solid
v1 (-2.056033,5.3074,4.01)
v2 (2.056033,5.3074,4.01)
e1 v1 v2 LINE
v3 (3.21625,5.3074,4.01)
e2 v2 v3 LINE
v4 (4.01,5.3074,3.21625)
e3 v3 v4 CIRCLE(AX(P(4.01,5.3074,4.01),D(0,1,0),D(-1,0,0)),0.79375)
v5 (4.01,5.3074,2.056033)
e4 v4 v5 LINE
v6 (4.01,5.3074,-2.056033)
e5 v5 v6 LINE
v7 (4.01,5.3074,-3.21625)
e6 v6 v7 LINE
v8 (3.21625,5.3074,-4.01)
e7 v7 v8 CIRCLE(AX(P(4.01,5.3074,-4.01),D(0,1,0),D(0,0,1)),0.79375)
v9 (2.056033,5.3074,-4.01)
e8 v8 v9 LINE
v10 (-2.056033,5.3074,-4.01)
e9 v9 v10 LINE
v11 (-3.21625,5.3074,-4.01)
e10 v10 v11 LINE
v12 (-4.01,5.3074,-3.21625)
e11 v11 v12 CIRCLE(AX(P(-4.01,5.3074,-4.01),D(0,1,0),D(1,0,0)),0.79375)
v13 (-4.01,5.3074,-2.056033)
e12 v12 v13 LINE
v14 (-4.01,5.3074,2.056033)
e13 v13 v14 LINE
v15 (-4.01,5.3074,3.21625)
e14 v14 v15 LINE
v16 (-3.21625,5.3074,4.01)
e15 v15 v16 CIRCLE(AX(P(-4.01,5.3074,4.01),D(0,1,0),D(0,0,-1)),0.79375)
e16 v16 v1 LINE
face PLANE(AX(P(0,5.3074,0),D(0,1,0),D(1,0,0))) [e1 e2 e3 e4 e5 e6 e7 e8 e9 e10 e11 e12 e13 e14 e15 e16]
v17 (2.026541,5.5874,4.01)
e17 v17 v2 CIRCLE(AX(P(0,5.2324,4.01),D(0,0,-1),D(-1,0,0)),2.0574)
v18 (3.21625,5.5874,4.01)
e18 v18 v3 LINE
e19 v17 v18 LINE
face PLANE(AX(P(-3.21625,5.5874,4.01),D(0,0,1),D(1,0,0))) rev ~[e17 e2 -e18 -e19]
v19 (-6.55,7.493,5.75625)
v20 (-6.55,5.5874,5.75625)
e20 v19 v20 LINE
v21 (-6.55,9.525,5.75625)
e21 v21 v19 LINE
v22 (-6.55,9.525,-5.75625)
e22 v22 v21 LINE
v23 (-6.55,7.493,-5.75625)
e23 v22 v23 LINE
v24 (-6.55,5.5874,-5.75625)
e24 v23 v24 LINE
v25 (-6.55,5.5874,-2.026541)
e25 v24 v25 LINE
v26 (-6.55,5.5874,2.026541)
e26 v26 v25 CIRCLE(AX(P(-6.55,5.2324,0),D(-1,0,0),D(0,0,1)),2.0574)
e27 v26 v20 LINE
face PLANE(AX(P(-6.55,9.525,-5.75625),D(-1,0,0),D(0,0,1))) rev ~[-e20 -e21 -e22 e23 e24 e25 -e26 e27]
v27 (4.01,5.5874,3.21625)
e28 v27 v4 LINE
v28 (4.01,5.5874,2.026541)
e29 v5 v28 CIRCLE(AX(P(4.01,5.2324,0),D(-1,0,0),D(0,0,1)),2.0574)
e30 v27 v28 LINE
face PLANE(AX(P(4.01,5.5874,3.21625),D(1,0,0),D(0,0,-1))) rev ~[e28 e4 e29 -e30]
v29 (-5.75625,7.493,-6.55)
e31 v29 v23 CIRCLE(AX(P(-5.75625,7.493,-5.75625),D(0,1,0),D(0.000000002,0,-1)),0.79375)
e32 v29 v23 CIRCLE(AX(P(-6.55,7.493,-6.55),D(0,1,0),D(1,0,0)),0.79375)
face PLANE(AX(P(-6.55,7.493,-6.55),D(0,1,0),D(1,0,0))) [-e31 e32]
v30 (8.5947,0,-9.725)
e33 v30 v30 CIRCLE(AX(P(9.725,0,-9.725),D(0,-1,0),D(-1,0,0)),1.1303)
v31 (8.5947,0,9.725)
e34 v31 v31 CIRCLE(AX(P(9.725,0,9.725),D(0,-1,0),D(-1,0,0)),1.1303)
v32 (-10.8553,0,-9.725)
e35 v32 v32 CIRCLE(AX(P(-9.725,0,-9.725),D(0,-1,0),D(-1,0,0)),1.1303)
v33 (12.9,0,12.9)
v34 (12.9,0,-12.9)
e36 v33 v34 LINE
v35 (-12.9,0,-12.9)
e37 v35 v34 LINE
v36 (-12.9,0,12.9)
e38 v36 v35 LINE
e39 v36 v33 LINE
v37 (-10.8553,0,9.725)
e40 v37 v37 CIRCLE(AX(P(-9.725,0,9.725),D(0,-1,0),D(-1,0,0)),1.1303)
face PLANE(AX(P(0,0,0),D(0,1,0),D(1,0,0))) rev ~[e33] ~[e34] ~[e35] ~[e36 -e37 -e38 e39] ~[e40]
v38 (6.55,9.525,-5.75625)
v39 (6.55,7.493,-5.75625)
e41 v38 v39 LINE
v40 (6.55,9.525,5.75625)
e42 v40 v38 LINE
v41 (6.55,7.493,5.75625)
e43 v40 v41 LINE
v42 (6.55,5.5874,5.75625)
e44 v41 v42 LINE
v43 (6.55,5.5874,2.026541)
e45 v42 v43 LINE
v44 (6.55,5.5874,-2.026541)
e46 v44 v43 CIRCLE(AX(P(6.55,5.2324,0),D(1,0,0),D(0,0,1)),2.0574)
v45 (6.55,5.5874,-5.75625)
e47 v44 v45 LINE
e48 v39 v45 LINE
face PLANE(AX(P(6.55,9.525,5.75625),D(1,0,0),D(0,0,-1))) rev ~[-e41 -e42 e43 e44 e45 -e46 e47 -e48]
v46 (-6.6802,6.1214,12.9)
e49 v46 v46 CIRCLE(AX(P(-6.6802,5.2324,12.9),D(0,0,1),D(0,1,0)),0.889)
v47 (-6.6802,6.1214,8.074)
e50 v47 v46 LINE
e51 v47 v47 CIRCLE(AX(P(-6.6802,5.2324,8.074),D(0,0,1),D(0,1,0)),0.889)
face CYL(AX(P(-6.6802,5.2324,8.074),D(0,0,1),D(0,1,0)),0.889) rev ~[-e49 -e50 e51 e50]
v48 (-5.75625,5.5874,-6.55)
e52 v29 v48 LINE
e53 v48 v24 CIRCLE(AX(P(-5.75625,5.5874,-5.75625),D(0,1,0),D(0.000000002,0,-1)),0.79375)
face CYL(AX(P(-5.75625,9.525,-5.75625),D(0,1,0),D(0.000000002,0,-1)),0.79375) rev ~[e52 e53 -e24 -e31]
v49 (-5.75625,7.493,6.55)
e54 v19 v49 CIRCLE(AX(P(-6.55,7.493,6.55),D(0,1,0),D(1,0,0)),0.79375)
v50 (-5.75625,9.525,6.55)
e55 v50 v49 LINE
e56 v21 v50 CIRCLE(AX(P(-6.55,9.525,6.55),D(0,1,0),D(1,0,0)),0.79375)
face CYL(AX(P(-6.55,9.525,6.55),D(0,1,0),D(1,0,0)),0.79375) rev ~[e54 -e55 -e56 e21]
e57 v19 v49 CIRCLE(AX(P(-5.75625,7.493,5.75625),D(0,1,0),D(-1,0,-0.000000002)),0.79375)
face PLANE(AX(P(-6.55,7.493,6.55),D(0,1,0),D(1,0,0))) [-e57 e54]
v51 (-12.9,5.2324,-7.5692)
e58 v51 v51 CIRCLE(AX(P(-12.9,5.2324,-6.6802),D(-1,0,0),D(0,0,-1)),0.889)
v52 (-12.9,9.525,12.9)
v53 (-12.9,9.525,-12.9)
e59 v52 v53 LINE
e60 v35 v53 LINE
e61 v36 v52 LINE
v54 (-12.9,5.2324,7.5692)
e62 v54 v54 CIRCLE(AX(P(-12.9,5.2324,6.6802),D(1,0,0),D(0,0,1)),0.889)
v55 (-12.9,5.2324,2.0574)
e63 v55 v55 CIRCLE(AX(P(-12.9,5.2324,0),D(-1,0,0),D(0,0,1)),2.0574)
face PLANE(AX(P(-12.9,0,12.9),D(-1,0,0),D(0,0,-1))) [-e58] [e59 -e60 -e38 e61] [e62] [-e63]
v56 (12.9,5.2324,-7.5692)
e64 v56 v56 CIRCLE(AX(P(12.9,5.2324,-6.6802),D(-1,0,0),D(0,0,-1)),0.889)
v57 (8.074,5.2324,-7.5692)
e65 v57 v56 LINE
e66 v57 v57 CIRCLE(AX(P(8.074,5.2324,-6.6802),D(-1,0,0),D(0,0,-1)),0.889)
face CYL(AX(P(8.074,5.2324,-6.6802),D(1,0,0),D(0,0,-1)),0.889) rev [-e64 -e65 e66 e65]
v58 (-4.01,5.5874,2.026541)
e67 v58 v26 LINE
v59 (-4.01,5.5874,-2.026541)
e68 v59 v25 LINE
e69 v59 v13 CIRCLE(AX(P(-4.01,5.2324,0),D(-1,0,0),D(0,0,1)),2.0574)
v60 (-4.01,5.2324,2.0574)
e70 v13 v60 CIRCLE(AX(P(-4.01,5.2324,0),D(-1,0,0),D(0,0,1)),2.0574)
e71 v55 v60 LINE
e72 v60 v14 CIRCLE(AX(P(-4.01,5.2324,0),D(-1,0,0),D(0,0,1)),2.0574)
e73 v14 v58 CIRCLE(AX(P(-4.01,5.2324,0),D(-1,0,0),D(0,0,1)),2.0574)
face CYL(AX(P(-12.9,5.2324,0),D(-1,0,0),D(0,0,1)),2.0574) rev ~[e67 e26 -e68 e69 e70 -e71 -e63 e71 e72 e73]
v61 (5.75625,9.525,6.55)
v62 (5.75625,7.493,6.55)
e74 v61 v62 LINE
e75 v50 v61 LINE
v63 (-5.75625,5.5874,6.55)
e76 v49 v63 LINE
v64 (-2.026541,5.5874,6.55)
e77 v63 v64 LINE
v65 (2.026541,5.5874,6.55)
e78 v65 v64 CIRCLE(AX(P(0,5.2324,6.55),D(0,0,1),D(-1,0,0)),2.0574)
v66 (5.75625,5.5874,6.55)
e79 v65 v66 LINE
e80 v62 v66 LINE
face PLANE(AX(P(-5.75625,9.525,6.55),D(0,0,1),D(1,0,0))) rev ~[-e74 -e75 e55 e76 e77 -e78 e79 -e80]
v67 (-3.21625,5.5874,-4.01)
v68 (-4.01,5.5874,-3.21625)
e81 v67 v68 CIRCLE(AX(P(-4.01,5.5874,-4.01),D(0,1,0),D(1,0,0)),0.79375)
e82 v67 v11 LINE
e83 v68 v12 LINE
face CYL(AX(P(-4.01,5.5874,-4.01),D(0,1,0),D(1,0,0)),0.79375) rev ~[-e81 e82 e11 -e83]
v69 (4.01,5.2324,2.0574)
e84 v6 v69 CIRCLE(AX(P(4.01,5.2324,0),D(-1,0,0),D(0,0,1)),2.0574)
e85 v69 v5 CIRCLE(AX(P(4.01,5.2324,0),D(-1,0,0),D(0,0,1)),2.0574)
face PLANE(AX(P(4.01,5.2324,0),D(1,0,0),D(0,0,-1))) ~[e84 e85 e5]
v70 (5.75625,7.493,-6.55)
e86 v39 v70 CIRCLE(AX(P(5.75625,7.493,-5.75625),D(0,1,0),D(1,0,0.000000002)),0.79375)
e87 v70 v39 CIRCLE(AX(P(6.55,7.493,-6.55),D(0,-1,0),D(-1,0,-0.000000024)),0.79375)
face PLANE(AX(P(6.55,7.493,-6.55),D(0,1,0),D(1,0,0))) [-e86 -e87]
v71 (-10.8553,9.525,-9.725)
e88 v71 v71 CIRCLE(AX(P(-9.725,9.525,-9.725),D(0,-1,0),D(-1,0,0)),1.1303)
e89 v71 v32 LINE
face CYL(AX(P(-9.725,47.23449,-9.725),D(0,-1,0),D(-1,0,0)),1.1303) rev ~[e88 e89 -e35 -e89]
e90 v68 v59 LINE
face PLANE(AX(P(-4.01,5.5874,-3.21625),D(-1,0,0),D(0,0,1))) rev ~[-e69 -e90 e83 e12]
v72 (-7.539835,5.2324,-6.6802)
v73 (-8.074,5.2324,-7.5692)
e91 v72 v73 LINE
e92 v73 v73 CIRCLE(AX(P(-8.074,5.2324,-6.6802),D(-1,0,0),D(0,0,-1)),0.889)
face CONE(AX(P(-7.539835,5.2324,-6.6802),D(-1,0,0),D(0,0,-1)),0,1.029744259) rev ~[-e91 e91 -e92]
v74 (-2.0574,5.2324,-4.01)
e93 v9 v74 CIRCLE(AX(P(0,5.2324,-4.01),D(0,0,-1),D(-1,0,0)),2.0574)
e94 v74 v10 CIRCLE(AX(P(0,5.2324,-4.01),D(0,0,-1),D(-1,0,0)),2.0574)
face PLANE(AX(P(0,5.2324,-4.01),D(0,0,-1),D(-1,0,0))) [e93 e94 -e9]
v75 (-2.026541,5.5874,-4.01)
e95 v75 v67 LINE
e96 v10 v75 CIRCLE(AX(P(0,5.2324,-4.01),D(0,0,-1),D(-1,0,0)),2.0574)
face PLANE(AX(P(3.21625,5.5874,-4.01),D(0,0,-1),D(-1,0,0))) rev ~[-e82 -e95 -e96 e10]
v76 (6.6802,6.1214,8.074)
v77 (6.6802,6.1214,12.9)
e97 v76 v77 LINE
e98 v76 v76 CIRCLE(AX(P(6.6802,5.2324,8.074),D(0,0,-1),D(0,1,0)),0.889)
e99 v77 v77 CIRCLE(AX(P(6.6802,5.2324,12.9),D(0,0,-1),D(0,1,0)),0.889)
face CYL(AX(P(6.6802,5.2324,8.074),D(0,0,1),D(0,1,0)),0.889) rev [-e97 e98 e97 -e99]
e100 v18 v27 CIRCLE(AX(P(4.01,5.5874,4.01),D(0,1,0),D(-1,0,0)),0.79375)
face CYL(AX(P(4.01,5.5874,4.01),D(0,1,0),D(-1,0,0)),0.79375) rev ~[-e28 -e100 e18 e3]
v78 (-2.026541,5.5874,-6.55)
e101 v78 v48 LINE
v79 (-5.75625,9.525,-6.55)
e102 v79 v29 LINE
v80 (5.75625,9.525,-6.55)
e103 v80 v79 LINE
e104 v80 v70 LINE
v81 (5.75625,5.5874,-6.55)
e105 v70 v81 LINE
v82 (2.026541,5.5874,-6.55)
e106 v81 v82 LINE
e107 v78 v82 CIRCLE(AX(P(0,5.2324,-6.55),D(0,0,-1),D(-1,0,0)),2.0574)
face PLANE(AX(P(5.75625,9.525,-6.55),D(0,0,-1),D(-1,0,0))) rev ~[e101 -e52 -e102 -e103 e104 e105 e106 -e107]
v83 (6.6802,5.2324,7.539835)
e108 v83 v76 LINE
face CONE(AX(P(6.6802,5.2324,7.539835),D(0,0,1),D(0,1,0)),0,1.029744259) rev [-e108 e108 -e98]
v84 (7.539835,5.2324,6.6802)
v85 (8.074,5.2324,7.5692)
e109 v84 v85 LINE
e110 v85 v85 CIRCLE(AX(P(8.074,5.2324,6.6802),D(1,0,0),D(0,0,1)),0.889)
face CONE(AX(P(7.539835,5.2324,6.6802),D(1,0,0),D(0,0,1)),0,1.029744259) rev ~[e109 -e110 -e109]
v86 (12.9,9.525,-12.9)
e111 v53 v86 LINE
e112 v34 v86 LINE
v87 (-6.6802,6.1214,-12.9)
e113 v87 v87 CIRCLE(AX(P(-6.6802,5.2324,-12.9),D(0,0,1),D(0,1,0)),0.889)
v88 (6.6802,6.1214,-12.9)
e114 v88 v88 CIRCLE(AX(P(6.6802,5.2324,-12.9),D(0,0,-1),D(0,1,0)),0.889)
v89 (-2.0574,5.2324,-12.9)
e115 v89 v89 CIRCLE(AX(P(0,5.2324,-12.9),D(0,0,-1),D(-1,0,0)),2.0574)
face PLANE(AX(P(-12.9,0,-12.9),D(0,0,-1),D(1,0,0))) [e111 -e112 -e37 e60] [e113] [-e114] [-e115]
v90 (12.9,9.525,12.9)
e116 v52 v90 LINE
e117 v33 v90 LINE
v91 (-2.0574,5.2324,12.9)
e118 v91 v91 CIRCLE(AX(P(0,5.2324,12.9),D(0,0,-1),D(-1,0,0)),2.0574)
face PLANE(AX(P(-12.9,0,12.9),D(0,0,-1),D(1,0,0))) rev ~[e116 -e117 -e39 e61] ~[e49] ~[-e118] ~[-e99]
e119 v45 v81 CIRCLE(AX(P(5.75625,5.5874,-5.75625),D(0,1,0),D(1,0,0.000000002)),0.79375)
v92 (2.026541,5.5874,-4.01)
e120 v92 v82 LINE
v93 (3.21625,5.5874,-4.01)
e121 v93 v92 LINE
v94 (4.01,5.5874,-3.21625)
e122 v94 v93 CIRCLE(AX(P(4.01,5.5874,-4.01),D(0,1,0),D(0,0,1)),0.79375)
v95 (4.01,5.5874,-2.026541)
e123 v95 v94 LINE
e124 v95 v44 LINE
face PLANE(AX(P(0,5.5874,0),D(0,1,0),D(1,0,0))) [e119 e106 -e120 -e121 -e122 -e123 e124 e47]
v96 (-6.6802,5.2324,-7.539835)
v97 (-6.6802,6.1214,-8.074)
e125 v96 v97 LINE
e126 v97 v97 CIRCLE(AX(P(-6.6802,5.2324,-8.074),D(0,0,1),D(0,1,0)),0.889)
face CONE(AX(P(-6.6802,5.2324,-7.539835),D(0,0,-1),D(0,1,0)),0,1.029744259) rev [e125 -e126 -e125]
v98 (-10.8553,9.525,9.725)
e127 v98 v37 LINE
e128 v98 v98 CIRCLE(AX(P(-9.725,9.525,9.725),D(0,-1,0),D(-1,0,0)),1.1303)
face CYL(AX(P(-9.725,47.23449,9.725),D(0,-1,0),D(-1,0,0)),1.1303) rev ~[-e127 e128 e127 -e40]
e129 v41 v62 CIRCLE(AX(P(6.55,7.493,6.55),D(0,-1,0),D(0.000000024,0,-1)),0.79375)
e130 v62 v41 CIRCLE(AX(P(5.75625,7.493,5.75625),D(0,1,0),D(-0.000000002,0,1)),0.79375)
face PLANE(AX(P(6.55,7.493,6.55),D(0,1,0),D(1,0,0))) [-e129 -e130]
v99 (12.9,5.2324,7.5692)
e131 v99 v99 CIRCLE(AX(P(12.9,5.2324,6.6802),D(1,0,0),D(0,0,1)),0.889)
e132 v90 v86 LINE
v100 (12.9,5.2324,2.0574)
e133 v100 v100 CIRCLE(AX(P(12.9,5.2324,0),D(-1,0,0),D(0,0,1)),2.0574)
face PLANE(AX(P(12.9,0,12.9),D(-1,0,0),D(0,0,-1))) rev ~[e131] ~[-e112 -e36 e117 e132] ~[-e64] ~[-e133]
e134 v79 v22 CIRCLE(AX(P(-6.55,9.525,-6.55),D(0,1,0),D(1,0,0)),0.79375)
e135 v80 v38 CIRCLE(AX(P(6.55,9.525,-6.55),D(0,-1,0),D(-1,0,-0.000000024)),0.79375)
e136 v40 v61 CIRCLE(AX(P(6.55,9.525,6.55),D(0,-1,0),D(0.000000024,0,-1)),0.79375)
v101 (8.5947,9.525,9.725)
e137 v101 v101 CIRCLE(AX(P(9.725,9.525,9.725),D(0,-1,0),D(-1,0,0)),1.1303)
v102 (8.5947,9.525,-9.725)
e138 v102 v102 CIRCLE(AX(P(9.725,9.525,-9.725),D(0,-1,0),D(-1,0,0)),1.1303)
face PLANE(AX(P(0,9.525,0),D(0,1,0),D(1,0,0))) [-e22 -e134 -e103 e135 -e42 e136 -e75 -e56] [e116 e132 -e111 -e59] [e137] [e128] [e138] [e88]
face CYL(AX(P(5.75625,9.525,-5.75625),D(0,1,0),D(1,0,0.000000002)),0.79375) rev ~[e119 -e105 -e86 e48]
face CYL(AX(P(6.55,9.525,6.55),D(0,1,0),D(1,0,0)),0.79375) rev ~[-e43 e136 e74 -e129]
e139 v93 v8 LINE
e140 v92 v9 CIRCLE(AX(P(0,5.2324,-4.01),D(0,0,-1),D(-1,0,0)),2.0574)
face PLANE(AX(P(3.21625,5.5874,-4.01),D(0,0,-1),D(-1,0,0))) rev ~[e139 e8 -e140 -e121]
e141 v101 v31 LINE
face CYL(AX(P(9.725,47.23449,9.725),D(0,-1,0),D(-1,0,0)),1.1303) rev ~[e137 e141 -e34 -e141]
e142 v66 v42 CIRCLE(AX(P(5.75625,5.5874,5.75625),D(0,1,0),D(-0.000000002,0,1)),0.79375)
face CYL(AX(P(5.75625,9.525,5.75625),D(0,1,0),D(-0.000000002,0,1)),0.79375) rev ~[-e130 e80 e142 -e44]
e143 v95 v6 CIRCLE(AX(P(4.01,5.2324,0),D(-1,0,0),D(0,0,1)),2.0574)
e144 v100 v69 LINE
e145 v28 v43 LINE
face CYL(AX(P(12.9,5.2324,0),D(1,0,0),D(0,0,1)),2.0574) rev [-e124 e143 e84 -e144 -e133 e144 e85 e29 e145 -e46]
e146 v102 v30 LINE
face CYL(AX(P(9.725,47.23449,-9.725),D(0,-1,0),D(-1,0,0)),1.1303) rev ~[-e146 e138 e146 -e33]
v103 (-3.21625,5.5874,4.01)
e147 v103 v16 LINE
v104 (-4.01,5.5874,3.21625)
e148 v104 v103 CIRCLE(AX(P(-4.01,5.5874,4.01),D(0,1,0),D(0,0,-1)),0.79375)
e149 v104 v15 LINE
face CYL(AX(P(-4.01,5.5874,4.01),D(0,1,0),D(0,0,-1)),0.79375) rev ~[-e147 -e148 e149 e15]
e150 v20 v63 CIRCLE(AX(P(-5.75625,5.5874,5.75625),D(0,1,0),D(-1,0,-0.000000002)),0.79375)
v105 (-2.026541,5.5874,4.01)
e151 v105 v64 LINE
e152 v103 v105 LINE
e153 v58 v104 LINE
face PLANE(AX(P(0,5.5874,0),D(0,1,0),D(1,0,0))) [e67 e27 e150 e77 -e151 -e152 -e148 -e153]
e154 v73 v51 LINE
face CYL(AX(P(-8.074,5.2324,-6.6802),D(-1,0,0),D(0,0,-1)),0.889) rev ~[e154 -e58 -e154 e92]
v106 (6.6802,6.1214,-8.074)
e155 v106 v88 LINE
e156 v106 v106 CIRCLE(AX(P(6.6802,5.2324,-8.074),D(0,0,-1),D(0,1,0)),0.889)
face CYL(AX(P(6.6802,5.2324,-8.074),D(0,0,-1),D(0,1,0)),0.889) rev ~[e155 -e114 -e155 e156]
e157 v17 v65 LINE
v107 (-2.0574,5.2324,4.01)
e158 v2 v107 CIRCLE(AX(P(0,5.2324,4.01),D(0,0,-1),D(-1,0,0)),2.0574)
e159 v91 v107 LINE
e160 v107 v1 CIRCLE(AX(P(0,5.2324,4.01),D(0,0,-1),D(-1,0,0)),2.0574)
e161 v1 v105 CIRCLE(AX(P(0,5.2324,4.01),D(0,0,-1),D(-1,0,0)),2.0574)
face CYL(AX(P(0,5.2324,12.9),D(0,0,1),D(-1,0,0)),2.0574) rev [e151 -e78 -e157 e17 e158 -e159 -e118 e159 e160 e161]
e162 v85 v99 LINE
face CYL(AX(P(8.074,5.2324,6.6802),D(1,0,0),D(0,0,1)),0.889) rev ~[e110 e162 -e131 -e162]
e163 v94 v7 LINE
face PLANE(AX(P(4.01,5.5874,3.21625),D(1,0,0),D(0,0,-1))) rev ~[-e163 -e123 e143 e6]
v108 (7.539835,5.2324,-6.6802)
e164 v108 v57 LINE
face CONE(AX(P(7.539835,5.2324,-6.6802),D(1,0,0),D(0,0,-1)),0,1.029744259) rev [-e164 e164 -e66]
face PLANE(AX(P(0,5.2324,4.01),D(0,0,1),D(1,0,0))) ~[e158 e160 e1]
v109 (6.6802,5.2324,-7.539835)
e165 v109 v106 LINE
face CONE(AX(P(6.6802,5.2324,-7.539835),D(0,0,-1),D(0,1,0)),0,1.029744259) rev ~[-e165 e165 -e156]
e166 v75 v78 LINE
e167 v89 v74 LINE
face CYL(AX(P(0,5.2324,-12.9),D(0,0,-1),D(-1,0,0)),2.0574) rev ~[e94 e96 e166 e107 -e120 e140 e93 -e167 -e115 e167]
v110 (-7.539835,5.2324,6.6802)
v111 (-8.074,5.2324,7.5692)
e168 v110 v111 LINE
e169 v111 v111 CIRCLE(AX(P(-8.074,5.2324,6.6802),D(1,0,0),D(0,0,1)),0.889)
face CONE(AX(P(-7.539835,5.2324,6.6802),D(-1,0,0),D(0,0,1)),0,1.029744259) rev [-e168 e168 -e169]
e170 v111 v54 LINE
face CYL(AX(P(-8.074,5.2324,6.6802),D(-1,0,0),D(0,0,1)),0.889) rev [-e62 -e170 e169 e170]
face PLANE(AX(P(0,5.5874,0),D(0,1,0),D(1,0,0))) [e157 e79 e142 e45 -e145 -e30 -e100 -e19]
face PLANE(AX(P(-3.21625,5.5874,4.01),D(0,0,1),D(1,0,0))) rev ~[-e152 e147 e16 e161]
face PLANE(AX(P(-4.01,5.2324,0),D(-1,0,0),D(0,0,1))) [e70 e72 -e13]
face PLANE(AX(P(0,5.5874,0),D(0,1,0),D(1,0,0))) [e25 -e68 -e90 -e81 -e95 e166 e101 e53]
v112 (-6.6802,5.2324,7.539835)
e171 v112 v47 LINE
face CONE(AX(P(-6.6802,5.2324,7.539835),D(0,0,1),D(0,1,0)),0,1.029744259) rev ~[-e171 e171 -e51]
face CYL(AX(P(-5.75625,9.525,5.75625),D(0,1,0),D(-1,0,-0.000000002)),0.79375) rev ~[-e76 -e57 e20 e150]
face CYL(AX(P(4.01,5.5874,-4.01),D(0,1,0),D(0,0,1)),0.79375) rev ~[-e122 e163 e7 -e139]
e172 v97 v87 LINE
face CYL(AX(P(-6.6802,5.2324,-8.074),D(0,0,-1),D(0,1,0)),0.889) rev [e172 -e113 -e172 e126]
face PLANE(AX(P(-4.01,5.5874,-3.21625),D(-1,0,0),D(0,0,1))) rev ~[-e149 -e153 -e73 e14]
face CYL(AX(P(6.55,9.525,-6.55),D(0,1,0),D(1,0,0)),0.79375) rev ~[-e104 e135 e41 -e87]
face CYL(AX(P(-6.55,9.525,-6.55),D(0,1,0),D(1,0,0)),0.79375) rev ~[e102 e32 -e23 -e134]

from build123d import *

# Parameters (mm, degrees)
SKETCH1_W             = 25.8
SKETCH1_H             = 25.8
BOSS_EXTRUDE1_DEPTH   = 9.525
SKETCH3_R             = 2.0574
CUT_EXTRUDE3_DEPTH    = 8.89
SKETCH7_R             = 2.0574
CUT_EXTRUDE5_DEPTH    = 8.89
CUT_EXTRUDE10_DEPTH   = 3.9376
CUT_EXTRUDE11_DEPTH   = 0.28
F_4_40_TAPPED_HOLE2_D = 2.2606
SKETCH25_R            = 0.79375
CUT_EXTRUDE12_DEPTH   = 2.032


with BuildPart() as part:
    # Sketch1 → Boss-Extrude1 (new body)
    with BuildSketch(Plane(origin=(0, 0, 0), x_dir=(1, 0, 0), z_dir=(0, 1, 0))):
        Rectangle(SKETCH1_W, SKETCH1_H)
    extrude(amount=BOSS_EXTRUDE1_DEPTH)

    # Sketch3 → Cut-Extrude3 (cut)
    with BuildSketch(Plane.ZY.offset(12.9)):
        with Locations((0, 5.2324)):
            Circle(SKETCH3_R)
    cut_extrude3 = extrude(amount=-CUT_EXTRUDE3_DEPTH, mode=Mode.SUBTRACT)

    # Mirror1: Cut-Extrude3 across plane
    add(cut_extrude3.mirror(Plane(origin=(0, 0, 0), x_dir=(0, 0, 1), z_dir=(1, 0, 0))), mode=Mode.SUBTRACT)

    # Sketch7 → Cut-Extrude5 (cut)
    with BuildSketch(Plane(origin=(0, 0, -12.9), x_dir=(-1, 0, 0), z_dir=(0, 0, -1))):
        with Locations((0, 5.2324)):
            Circle(SKETCH7_R)
    cut_extrude5 = extrude(amount=-CUT_EXTRUDE5_DEPTH, mode=Mode.SUBTRACT)

    # Mirror2: Cut-Extrude5 across plane
    add(cut_extrude5.mirror(Plane.XY), mode=Mode.SUBTRACT)

    # Sketch14 → Cut-Extrude10 (cut)
    with BuildSketch(Plane(origin=(0, 9.525, 0), x_dir=(1, 0, 0), z_dir=(0, 1, 0))):
        with BuildLine():
            Line((-5.75625, -6.55), (5.75625, -6.55))
            ThreePointArc((5.75625, -6.55), (6.317516008, -6.317516008), (6.55, -5.75625))
            Line((6.55, -5.75625), (6.55, 5.75625))
            ThreePointArc((6.55, 5.75625), (6.317516008, 6.317516008), (5.75625, 6.55))
            Line((5.75625, 6.55), (-5.75625, 6.55))
            ThreePointArc((-5.75625, 6.55), (-6.317516008, 6.317516008), (-6.55, 5.75625))
            Line((-6.55, 5.75625), (-6.55, -5.75625))
            ThreePointArc((-6.55, -5.75625), (-6.317516008, -6.317516008), (-5.75625, -6.55))
        make_face()
    extrude(amount=-CUT_EXTRUDE10_DEPTH, mode=Mode.SUBTRACT)

    # Sketch15 → Cut-Extrude11 (cut)
    with BuildSketch(Plane(origin=(0, 5.5874, 0), x_dir=(1, 0, 0), z_dir=(0, 1, 0))):
        with BuildLine():
            Line((-3.21625, -4.01), (3.21625, -4.01))
            ThreePointArc((3.21625, -4.01), (4.571266008, -4.571266008), (4.01, -3.21625))
            Line((4.01, -3.21625), (4.01, 3.21625))
            ThreePointArc((4.01, 3.21625), (4.571266008, 4.571266008), (3.21625, 4.01))
            Line((3.21625, 4.01), (-3.21625, 4.01))
            ThreePointArc((-3.21625, 4.01), (-4.571266008, 4.571266008), (-4.01, 3.21625))
            Line((-4.01, 3.21625), (-4.01, -3.21625))
            ThreePointArc((-4.01, -3.21625), (-4.571266008, -4.571266008), (-3.21625, -4.01))
        make_face()
    extrude(amount=-CUT_EXTRUDE11_DEPTH, mode=Mode.SUBTRACT)

    # #4-40 Tapped Hole2 (through all)
    with Locations(Plane(origin=(0, 9.525, 0), x_dir=(1, 0, 0), z_dir=(0, 1, 0))):
        with Locations((9.725, -9.725), (-9.725, -9.725), (-9.725, 9.725), (9.725, 9.725)):
            Hole(F_4_40_TAPPED_HOLE2_D / 2)

    # Sketch22 → #2-56 Tapped Hole1 (revolve, cut)
    with BuildSketch(Plane(origin=(-6.6802, 5.2324, -12.9), x_dir=(0, 1, 0), z_dir=(1, 0, 0))):
        Polygon((0, 0), (0, 5.36016509), (0.889, 4.826), (0.889, 0), align=None)
    f_2_56_tapped_hole1 = revolve(axis=Axis((-6.6802, 5.2324, -19.25), (0, 0, 1)), mode=Mode.SUBTRACT)

    # Mirror7: #2-56 Tapped Hole1 across plane
    add(f_2_56_tapped_hole1.mirror(Plane(origin=(0, 0, 0), x_dir=(0, 0, 1), z_dir=(1, 0, 0))), mode=Mode.SUBTRACT)

    # Mirror8: #2-56 Tapped Hole1 across plane
    add(f_2_56_tapped_hole1.mirror(Plane.XY), mode=Mode.SUBTRACT)

    # Mirror8 copy 1 sketch → Mirror8 copy 1 (revolve, cut)
    with BuildSketch(Plane(origin=(6.6802, 5.2324, 12.9), x_dir=(0, 1, 0), z_dir=(-1, 0, 0))):
        Polygon((0, 0), (0, 5.36016509), (0.889, 4.826), (0.889, 0), align=None)
    revolve(axis=Axis((6.6802, 5.2324, 19.25), (0, 0, -1)), mode=Mode.SUBTRACT)

    # Sketch24 → #2-56 Tapped Hole2 (revolve, cut)
    with BuildSketch(Plane(origin=(12.9, 5.2324, -6.6802), x_dir=(0, 0, -1), z_dir=(0, 1, 0))):
        Polygon((0, 0), (0, 5.36016509), (0.889, 4.826), (0.889, 0), align=None)
    f_2_56_tapped_hole2 = revolve(axis=Axis((19.25, 5.2324, -6.6802), (-1, 0, 0)), mode=Mode.SUBTRACT)

    # Mirror9: #2-56 Tapped Hole2 across plane
    add(f_2_56_tapped_hole2.mirror(Plane.XY), mode=Mode.SUBTRACT)

    # Mirror10: #2-56 Tapped Hole2 across plane
    add(f_2_56_tapped_hole2.mirror(Plane(origin=(0, 0, 0), x_dir=(0, 0, 1), z_dir=(1, 0, 0))), mode=Mode.SUBTRACT)

    # Mirror10 copy 1 sketch → Mirror10 copy 1 (revolve, cut)
    with BuildSketch(Plane(origin=(-12.9, 5.2324, 6.6802), x_dir=(0, 0, 1), z_dir=(0, 1, 0))):
        Polygon((0, 0), (0, 5.36016509), (0.889, 4.826), (0.889, 0), align=None)
    revolve(axis=Axis((-19.25, 5.2324, 6.6802), (1, 0, 0)), mode=Mode.SUBTRACT)

    # Sketch25 → Cut-Extrude12 (cut)
    with BuildSketch(Plane(origin=(0, 9.525, 0), x_dir=(1, 0, 0), z_dir=(0, 1, 0))):
        with Locations((-6.549999981, 6.549999981)):
            Circle(SKETCH25_R)
        with Locations((6.549999981, 6.549999981)):
            Circle(SKETCH25_R)
        with Locations((6.549999981, -6.549999981)):
            Circle(SKETCH25_R)
        with Locations((-6.549999981, -6.549999981)):
            Circle(SKETCH25_R)
    extrude(amount=-CUT_EXTRUDE12_DEPTH, mode=Mode.SUBTRACT)


solid = part.part
